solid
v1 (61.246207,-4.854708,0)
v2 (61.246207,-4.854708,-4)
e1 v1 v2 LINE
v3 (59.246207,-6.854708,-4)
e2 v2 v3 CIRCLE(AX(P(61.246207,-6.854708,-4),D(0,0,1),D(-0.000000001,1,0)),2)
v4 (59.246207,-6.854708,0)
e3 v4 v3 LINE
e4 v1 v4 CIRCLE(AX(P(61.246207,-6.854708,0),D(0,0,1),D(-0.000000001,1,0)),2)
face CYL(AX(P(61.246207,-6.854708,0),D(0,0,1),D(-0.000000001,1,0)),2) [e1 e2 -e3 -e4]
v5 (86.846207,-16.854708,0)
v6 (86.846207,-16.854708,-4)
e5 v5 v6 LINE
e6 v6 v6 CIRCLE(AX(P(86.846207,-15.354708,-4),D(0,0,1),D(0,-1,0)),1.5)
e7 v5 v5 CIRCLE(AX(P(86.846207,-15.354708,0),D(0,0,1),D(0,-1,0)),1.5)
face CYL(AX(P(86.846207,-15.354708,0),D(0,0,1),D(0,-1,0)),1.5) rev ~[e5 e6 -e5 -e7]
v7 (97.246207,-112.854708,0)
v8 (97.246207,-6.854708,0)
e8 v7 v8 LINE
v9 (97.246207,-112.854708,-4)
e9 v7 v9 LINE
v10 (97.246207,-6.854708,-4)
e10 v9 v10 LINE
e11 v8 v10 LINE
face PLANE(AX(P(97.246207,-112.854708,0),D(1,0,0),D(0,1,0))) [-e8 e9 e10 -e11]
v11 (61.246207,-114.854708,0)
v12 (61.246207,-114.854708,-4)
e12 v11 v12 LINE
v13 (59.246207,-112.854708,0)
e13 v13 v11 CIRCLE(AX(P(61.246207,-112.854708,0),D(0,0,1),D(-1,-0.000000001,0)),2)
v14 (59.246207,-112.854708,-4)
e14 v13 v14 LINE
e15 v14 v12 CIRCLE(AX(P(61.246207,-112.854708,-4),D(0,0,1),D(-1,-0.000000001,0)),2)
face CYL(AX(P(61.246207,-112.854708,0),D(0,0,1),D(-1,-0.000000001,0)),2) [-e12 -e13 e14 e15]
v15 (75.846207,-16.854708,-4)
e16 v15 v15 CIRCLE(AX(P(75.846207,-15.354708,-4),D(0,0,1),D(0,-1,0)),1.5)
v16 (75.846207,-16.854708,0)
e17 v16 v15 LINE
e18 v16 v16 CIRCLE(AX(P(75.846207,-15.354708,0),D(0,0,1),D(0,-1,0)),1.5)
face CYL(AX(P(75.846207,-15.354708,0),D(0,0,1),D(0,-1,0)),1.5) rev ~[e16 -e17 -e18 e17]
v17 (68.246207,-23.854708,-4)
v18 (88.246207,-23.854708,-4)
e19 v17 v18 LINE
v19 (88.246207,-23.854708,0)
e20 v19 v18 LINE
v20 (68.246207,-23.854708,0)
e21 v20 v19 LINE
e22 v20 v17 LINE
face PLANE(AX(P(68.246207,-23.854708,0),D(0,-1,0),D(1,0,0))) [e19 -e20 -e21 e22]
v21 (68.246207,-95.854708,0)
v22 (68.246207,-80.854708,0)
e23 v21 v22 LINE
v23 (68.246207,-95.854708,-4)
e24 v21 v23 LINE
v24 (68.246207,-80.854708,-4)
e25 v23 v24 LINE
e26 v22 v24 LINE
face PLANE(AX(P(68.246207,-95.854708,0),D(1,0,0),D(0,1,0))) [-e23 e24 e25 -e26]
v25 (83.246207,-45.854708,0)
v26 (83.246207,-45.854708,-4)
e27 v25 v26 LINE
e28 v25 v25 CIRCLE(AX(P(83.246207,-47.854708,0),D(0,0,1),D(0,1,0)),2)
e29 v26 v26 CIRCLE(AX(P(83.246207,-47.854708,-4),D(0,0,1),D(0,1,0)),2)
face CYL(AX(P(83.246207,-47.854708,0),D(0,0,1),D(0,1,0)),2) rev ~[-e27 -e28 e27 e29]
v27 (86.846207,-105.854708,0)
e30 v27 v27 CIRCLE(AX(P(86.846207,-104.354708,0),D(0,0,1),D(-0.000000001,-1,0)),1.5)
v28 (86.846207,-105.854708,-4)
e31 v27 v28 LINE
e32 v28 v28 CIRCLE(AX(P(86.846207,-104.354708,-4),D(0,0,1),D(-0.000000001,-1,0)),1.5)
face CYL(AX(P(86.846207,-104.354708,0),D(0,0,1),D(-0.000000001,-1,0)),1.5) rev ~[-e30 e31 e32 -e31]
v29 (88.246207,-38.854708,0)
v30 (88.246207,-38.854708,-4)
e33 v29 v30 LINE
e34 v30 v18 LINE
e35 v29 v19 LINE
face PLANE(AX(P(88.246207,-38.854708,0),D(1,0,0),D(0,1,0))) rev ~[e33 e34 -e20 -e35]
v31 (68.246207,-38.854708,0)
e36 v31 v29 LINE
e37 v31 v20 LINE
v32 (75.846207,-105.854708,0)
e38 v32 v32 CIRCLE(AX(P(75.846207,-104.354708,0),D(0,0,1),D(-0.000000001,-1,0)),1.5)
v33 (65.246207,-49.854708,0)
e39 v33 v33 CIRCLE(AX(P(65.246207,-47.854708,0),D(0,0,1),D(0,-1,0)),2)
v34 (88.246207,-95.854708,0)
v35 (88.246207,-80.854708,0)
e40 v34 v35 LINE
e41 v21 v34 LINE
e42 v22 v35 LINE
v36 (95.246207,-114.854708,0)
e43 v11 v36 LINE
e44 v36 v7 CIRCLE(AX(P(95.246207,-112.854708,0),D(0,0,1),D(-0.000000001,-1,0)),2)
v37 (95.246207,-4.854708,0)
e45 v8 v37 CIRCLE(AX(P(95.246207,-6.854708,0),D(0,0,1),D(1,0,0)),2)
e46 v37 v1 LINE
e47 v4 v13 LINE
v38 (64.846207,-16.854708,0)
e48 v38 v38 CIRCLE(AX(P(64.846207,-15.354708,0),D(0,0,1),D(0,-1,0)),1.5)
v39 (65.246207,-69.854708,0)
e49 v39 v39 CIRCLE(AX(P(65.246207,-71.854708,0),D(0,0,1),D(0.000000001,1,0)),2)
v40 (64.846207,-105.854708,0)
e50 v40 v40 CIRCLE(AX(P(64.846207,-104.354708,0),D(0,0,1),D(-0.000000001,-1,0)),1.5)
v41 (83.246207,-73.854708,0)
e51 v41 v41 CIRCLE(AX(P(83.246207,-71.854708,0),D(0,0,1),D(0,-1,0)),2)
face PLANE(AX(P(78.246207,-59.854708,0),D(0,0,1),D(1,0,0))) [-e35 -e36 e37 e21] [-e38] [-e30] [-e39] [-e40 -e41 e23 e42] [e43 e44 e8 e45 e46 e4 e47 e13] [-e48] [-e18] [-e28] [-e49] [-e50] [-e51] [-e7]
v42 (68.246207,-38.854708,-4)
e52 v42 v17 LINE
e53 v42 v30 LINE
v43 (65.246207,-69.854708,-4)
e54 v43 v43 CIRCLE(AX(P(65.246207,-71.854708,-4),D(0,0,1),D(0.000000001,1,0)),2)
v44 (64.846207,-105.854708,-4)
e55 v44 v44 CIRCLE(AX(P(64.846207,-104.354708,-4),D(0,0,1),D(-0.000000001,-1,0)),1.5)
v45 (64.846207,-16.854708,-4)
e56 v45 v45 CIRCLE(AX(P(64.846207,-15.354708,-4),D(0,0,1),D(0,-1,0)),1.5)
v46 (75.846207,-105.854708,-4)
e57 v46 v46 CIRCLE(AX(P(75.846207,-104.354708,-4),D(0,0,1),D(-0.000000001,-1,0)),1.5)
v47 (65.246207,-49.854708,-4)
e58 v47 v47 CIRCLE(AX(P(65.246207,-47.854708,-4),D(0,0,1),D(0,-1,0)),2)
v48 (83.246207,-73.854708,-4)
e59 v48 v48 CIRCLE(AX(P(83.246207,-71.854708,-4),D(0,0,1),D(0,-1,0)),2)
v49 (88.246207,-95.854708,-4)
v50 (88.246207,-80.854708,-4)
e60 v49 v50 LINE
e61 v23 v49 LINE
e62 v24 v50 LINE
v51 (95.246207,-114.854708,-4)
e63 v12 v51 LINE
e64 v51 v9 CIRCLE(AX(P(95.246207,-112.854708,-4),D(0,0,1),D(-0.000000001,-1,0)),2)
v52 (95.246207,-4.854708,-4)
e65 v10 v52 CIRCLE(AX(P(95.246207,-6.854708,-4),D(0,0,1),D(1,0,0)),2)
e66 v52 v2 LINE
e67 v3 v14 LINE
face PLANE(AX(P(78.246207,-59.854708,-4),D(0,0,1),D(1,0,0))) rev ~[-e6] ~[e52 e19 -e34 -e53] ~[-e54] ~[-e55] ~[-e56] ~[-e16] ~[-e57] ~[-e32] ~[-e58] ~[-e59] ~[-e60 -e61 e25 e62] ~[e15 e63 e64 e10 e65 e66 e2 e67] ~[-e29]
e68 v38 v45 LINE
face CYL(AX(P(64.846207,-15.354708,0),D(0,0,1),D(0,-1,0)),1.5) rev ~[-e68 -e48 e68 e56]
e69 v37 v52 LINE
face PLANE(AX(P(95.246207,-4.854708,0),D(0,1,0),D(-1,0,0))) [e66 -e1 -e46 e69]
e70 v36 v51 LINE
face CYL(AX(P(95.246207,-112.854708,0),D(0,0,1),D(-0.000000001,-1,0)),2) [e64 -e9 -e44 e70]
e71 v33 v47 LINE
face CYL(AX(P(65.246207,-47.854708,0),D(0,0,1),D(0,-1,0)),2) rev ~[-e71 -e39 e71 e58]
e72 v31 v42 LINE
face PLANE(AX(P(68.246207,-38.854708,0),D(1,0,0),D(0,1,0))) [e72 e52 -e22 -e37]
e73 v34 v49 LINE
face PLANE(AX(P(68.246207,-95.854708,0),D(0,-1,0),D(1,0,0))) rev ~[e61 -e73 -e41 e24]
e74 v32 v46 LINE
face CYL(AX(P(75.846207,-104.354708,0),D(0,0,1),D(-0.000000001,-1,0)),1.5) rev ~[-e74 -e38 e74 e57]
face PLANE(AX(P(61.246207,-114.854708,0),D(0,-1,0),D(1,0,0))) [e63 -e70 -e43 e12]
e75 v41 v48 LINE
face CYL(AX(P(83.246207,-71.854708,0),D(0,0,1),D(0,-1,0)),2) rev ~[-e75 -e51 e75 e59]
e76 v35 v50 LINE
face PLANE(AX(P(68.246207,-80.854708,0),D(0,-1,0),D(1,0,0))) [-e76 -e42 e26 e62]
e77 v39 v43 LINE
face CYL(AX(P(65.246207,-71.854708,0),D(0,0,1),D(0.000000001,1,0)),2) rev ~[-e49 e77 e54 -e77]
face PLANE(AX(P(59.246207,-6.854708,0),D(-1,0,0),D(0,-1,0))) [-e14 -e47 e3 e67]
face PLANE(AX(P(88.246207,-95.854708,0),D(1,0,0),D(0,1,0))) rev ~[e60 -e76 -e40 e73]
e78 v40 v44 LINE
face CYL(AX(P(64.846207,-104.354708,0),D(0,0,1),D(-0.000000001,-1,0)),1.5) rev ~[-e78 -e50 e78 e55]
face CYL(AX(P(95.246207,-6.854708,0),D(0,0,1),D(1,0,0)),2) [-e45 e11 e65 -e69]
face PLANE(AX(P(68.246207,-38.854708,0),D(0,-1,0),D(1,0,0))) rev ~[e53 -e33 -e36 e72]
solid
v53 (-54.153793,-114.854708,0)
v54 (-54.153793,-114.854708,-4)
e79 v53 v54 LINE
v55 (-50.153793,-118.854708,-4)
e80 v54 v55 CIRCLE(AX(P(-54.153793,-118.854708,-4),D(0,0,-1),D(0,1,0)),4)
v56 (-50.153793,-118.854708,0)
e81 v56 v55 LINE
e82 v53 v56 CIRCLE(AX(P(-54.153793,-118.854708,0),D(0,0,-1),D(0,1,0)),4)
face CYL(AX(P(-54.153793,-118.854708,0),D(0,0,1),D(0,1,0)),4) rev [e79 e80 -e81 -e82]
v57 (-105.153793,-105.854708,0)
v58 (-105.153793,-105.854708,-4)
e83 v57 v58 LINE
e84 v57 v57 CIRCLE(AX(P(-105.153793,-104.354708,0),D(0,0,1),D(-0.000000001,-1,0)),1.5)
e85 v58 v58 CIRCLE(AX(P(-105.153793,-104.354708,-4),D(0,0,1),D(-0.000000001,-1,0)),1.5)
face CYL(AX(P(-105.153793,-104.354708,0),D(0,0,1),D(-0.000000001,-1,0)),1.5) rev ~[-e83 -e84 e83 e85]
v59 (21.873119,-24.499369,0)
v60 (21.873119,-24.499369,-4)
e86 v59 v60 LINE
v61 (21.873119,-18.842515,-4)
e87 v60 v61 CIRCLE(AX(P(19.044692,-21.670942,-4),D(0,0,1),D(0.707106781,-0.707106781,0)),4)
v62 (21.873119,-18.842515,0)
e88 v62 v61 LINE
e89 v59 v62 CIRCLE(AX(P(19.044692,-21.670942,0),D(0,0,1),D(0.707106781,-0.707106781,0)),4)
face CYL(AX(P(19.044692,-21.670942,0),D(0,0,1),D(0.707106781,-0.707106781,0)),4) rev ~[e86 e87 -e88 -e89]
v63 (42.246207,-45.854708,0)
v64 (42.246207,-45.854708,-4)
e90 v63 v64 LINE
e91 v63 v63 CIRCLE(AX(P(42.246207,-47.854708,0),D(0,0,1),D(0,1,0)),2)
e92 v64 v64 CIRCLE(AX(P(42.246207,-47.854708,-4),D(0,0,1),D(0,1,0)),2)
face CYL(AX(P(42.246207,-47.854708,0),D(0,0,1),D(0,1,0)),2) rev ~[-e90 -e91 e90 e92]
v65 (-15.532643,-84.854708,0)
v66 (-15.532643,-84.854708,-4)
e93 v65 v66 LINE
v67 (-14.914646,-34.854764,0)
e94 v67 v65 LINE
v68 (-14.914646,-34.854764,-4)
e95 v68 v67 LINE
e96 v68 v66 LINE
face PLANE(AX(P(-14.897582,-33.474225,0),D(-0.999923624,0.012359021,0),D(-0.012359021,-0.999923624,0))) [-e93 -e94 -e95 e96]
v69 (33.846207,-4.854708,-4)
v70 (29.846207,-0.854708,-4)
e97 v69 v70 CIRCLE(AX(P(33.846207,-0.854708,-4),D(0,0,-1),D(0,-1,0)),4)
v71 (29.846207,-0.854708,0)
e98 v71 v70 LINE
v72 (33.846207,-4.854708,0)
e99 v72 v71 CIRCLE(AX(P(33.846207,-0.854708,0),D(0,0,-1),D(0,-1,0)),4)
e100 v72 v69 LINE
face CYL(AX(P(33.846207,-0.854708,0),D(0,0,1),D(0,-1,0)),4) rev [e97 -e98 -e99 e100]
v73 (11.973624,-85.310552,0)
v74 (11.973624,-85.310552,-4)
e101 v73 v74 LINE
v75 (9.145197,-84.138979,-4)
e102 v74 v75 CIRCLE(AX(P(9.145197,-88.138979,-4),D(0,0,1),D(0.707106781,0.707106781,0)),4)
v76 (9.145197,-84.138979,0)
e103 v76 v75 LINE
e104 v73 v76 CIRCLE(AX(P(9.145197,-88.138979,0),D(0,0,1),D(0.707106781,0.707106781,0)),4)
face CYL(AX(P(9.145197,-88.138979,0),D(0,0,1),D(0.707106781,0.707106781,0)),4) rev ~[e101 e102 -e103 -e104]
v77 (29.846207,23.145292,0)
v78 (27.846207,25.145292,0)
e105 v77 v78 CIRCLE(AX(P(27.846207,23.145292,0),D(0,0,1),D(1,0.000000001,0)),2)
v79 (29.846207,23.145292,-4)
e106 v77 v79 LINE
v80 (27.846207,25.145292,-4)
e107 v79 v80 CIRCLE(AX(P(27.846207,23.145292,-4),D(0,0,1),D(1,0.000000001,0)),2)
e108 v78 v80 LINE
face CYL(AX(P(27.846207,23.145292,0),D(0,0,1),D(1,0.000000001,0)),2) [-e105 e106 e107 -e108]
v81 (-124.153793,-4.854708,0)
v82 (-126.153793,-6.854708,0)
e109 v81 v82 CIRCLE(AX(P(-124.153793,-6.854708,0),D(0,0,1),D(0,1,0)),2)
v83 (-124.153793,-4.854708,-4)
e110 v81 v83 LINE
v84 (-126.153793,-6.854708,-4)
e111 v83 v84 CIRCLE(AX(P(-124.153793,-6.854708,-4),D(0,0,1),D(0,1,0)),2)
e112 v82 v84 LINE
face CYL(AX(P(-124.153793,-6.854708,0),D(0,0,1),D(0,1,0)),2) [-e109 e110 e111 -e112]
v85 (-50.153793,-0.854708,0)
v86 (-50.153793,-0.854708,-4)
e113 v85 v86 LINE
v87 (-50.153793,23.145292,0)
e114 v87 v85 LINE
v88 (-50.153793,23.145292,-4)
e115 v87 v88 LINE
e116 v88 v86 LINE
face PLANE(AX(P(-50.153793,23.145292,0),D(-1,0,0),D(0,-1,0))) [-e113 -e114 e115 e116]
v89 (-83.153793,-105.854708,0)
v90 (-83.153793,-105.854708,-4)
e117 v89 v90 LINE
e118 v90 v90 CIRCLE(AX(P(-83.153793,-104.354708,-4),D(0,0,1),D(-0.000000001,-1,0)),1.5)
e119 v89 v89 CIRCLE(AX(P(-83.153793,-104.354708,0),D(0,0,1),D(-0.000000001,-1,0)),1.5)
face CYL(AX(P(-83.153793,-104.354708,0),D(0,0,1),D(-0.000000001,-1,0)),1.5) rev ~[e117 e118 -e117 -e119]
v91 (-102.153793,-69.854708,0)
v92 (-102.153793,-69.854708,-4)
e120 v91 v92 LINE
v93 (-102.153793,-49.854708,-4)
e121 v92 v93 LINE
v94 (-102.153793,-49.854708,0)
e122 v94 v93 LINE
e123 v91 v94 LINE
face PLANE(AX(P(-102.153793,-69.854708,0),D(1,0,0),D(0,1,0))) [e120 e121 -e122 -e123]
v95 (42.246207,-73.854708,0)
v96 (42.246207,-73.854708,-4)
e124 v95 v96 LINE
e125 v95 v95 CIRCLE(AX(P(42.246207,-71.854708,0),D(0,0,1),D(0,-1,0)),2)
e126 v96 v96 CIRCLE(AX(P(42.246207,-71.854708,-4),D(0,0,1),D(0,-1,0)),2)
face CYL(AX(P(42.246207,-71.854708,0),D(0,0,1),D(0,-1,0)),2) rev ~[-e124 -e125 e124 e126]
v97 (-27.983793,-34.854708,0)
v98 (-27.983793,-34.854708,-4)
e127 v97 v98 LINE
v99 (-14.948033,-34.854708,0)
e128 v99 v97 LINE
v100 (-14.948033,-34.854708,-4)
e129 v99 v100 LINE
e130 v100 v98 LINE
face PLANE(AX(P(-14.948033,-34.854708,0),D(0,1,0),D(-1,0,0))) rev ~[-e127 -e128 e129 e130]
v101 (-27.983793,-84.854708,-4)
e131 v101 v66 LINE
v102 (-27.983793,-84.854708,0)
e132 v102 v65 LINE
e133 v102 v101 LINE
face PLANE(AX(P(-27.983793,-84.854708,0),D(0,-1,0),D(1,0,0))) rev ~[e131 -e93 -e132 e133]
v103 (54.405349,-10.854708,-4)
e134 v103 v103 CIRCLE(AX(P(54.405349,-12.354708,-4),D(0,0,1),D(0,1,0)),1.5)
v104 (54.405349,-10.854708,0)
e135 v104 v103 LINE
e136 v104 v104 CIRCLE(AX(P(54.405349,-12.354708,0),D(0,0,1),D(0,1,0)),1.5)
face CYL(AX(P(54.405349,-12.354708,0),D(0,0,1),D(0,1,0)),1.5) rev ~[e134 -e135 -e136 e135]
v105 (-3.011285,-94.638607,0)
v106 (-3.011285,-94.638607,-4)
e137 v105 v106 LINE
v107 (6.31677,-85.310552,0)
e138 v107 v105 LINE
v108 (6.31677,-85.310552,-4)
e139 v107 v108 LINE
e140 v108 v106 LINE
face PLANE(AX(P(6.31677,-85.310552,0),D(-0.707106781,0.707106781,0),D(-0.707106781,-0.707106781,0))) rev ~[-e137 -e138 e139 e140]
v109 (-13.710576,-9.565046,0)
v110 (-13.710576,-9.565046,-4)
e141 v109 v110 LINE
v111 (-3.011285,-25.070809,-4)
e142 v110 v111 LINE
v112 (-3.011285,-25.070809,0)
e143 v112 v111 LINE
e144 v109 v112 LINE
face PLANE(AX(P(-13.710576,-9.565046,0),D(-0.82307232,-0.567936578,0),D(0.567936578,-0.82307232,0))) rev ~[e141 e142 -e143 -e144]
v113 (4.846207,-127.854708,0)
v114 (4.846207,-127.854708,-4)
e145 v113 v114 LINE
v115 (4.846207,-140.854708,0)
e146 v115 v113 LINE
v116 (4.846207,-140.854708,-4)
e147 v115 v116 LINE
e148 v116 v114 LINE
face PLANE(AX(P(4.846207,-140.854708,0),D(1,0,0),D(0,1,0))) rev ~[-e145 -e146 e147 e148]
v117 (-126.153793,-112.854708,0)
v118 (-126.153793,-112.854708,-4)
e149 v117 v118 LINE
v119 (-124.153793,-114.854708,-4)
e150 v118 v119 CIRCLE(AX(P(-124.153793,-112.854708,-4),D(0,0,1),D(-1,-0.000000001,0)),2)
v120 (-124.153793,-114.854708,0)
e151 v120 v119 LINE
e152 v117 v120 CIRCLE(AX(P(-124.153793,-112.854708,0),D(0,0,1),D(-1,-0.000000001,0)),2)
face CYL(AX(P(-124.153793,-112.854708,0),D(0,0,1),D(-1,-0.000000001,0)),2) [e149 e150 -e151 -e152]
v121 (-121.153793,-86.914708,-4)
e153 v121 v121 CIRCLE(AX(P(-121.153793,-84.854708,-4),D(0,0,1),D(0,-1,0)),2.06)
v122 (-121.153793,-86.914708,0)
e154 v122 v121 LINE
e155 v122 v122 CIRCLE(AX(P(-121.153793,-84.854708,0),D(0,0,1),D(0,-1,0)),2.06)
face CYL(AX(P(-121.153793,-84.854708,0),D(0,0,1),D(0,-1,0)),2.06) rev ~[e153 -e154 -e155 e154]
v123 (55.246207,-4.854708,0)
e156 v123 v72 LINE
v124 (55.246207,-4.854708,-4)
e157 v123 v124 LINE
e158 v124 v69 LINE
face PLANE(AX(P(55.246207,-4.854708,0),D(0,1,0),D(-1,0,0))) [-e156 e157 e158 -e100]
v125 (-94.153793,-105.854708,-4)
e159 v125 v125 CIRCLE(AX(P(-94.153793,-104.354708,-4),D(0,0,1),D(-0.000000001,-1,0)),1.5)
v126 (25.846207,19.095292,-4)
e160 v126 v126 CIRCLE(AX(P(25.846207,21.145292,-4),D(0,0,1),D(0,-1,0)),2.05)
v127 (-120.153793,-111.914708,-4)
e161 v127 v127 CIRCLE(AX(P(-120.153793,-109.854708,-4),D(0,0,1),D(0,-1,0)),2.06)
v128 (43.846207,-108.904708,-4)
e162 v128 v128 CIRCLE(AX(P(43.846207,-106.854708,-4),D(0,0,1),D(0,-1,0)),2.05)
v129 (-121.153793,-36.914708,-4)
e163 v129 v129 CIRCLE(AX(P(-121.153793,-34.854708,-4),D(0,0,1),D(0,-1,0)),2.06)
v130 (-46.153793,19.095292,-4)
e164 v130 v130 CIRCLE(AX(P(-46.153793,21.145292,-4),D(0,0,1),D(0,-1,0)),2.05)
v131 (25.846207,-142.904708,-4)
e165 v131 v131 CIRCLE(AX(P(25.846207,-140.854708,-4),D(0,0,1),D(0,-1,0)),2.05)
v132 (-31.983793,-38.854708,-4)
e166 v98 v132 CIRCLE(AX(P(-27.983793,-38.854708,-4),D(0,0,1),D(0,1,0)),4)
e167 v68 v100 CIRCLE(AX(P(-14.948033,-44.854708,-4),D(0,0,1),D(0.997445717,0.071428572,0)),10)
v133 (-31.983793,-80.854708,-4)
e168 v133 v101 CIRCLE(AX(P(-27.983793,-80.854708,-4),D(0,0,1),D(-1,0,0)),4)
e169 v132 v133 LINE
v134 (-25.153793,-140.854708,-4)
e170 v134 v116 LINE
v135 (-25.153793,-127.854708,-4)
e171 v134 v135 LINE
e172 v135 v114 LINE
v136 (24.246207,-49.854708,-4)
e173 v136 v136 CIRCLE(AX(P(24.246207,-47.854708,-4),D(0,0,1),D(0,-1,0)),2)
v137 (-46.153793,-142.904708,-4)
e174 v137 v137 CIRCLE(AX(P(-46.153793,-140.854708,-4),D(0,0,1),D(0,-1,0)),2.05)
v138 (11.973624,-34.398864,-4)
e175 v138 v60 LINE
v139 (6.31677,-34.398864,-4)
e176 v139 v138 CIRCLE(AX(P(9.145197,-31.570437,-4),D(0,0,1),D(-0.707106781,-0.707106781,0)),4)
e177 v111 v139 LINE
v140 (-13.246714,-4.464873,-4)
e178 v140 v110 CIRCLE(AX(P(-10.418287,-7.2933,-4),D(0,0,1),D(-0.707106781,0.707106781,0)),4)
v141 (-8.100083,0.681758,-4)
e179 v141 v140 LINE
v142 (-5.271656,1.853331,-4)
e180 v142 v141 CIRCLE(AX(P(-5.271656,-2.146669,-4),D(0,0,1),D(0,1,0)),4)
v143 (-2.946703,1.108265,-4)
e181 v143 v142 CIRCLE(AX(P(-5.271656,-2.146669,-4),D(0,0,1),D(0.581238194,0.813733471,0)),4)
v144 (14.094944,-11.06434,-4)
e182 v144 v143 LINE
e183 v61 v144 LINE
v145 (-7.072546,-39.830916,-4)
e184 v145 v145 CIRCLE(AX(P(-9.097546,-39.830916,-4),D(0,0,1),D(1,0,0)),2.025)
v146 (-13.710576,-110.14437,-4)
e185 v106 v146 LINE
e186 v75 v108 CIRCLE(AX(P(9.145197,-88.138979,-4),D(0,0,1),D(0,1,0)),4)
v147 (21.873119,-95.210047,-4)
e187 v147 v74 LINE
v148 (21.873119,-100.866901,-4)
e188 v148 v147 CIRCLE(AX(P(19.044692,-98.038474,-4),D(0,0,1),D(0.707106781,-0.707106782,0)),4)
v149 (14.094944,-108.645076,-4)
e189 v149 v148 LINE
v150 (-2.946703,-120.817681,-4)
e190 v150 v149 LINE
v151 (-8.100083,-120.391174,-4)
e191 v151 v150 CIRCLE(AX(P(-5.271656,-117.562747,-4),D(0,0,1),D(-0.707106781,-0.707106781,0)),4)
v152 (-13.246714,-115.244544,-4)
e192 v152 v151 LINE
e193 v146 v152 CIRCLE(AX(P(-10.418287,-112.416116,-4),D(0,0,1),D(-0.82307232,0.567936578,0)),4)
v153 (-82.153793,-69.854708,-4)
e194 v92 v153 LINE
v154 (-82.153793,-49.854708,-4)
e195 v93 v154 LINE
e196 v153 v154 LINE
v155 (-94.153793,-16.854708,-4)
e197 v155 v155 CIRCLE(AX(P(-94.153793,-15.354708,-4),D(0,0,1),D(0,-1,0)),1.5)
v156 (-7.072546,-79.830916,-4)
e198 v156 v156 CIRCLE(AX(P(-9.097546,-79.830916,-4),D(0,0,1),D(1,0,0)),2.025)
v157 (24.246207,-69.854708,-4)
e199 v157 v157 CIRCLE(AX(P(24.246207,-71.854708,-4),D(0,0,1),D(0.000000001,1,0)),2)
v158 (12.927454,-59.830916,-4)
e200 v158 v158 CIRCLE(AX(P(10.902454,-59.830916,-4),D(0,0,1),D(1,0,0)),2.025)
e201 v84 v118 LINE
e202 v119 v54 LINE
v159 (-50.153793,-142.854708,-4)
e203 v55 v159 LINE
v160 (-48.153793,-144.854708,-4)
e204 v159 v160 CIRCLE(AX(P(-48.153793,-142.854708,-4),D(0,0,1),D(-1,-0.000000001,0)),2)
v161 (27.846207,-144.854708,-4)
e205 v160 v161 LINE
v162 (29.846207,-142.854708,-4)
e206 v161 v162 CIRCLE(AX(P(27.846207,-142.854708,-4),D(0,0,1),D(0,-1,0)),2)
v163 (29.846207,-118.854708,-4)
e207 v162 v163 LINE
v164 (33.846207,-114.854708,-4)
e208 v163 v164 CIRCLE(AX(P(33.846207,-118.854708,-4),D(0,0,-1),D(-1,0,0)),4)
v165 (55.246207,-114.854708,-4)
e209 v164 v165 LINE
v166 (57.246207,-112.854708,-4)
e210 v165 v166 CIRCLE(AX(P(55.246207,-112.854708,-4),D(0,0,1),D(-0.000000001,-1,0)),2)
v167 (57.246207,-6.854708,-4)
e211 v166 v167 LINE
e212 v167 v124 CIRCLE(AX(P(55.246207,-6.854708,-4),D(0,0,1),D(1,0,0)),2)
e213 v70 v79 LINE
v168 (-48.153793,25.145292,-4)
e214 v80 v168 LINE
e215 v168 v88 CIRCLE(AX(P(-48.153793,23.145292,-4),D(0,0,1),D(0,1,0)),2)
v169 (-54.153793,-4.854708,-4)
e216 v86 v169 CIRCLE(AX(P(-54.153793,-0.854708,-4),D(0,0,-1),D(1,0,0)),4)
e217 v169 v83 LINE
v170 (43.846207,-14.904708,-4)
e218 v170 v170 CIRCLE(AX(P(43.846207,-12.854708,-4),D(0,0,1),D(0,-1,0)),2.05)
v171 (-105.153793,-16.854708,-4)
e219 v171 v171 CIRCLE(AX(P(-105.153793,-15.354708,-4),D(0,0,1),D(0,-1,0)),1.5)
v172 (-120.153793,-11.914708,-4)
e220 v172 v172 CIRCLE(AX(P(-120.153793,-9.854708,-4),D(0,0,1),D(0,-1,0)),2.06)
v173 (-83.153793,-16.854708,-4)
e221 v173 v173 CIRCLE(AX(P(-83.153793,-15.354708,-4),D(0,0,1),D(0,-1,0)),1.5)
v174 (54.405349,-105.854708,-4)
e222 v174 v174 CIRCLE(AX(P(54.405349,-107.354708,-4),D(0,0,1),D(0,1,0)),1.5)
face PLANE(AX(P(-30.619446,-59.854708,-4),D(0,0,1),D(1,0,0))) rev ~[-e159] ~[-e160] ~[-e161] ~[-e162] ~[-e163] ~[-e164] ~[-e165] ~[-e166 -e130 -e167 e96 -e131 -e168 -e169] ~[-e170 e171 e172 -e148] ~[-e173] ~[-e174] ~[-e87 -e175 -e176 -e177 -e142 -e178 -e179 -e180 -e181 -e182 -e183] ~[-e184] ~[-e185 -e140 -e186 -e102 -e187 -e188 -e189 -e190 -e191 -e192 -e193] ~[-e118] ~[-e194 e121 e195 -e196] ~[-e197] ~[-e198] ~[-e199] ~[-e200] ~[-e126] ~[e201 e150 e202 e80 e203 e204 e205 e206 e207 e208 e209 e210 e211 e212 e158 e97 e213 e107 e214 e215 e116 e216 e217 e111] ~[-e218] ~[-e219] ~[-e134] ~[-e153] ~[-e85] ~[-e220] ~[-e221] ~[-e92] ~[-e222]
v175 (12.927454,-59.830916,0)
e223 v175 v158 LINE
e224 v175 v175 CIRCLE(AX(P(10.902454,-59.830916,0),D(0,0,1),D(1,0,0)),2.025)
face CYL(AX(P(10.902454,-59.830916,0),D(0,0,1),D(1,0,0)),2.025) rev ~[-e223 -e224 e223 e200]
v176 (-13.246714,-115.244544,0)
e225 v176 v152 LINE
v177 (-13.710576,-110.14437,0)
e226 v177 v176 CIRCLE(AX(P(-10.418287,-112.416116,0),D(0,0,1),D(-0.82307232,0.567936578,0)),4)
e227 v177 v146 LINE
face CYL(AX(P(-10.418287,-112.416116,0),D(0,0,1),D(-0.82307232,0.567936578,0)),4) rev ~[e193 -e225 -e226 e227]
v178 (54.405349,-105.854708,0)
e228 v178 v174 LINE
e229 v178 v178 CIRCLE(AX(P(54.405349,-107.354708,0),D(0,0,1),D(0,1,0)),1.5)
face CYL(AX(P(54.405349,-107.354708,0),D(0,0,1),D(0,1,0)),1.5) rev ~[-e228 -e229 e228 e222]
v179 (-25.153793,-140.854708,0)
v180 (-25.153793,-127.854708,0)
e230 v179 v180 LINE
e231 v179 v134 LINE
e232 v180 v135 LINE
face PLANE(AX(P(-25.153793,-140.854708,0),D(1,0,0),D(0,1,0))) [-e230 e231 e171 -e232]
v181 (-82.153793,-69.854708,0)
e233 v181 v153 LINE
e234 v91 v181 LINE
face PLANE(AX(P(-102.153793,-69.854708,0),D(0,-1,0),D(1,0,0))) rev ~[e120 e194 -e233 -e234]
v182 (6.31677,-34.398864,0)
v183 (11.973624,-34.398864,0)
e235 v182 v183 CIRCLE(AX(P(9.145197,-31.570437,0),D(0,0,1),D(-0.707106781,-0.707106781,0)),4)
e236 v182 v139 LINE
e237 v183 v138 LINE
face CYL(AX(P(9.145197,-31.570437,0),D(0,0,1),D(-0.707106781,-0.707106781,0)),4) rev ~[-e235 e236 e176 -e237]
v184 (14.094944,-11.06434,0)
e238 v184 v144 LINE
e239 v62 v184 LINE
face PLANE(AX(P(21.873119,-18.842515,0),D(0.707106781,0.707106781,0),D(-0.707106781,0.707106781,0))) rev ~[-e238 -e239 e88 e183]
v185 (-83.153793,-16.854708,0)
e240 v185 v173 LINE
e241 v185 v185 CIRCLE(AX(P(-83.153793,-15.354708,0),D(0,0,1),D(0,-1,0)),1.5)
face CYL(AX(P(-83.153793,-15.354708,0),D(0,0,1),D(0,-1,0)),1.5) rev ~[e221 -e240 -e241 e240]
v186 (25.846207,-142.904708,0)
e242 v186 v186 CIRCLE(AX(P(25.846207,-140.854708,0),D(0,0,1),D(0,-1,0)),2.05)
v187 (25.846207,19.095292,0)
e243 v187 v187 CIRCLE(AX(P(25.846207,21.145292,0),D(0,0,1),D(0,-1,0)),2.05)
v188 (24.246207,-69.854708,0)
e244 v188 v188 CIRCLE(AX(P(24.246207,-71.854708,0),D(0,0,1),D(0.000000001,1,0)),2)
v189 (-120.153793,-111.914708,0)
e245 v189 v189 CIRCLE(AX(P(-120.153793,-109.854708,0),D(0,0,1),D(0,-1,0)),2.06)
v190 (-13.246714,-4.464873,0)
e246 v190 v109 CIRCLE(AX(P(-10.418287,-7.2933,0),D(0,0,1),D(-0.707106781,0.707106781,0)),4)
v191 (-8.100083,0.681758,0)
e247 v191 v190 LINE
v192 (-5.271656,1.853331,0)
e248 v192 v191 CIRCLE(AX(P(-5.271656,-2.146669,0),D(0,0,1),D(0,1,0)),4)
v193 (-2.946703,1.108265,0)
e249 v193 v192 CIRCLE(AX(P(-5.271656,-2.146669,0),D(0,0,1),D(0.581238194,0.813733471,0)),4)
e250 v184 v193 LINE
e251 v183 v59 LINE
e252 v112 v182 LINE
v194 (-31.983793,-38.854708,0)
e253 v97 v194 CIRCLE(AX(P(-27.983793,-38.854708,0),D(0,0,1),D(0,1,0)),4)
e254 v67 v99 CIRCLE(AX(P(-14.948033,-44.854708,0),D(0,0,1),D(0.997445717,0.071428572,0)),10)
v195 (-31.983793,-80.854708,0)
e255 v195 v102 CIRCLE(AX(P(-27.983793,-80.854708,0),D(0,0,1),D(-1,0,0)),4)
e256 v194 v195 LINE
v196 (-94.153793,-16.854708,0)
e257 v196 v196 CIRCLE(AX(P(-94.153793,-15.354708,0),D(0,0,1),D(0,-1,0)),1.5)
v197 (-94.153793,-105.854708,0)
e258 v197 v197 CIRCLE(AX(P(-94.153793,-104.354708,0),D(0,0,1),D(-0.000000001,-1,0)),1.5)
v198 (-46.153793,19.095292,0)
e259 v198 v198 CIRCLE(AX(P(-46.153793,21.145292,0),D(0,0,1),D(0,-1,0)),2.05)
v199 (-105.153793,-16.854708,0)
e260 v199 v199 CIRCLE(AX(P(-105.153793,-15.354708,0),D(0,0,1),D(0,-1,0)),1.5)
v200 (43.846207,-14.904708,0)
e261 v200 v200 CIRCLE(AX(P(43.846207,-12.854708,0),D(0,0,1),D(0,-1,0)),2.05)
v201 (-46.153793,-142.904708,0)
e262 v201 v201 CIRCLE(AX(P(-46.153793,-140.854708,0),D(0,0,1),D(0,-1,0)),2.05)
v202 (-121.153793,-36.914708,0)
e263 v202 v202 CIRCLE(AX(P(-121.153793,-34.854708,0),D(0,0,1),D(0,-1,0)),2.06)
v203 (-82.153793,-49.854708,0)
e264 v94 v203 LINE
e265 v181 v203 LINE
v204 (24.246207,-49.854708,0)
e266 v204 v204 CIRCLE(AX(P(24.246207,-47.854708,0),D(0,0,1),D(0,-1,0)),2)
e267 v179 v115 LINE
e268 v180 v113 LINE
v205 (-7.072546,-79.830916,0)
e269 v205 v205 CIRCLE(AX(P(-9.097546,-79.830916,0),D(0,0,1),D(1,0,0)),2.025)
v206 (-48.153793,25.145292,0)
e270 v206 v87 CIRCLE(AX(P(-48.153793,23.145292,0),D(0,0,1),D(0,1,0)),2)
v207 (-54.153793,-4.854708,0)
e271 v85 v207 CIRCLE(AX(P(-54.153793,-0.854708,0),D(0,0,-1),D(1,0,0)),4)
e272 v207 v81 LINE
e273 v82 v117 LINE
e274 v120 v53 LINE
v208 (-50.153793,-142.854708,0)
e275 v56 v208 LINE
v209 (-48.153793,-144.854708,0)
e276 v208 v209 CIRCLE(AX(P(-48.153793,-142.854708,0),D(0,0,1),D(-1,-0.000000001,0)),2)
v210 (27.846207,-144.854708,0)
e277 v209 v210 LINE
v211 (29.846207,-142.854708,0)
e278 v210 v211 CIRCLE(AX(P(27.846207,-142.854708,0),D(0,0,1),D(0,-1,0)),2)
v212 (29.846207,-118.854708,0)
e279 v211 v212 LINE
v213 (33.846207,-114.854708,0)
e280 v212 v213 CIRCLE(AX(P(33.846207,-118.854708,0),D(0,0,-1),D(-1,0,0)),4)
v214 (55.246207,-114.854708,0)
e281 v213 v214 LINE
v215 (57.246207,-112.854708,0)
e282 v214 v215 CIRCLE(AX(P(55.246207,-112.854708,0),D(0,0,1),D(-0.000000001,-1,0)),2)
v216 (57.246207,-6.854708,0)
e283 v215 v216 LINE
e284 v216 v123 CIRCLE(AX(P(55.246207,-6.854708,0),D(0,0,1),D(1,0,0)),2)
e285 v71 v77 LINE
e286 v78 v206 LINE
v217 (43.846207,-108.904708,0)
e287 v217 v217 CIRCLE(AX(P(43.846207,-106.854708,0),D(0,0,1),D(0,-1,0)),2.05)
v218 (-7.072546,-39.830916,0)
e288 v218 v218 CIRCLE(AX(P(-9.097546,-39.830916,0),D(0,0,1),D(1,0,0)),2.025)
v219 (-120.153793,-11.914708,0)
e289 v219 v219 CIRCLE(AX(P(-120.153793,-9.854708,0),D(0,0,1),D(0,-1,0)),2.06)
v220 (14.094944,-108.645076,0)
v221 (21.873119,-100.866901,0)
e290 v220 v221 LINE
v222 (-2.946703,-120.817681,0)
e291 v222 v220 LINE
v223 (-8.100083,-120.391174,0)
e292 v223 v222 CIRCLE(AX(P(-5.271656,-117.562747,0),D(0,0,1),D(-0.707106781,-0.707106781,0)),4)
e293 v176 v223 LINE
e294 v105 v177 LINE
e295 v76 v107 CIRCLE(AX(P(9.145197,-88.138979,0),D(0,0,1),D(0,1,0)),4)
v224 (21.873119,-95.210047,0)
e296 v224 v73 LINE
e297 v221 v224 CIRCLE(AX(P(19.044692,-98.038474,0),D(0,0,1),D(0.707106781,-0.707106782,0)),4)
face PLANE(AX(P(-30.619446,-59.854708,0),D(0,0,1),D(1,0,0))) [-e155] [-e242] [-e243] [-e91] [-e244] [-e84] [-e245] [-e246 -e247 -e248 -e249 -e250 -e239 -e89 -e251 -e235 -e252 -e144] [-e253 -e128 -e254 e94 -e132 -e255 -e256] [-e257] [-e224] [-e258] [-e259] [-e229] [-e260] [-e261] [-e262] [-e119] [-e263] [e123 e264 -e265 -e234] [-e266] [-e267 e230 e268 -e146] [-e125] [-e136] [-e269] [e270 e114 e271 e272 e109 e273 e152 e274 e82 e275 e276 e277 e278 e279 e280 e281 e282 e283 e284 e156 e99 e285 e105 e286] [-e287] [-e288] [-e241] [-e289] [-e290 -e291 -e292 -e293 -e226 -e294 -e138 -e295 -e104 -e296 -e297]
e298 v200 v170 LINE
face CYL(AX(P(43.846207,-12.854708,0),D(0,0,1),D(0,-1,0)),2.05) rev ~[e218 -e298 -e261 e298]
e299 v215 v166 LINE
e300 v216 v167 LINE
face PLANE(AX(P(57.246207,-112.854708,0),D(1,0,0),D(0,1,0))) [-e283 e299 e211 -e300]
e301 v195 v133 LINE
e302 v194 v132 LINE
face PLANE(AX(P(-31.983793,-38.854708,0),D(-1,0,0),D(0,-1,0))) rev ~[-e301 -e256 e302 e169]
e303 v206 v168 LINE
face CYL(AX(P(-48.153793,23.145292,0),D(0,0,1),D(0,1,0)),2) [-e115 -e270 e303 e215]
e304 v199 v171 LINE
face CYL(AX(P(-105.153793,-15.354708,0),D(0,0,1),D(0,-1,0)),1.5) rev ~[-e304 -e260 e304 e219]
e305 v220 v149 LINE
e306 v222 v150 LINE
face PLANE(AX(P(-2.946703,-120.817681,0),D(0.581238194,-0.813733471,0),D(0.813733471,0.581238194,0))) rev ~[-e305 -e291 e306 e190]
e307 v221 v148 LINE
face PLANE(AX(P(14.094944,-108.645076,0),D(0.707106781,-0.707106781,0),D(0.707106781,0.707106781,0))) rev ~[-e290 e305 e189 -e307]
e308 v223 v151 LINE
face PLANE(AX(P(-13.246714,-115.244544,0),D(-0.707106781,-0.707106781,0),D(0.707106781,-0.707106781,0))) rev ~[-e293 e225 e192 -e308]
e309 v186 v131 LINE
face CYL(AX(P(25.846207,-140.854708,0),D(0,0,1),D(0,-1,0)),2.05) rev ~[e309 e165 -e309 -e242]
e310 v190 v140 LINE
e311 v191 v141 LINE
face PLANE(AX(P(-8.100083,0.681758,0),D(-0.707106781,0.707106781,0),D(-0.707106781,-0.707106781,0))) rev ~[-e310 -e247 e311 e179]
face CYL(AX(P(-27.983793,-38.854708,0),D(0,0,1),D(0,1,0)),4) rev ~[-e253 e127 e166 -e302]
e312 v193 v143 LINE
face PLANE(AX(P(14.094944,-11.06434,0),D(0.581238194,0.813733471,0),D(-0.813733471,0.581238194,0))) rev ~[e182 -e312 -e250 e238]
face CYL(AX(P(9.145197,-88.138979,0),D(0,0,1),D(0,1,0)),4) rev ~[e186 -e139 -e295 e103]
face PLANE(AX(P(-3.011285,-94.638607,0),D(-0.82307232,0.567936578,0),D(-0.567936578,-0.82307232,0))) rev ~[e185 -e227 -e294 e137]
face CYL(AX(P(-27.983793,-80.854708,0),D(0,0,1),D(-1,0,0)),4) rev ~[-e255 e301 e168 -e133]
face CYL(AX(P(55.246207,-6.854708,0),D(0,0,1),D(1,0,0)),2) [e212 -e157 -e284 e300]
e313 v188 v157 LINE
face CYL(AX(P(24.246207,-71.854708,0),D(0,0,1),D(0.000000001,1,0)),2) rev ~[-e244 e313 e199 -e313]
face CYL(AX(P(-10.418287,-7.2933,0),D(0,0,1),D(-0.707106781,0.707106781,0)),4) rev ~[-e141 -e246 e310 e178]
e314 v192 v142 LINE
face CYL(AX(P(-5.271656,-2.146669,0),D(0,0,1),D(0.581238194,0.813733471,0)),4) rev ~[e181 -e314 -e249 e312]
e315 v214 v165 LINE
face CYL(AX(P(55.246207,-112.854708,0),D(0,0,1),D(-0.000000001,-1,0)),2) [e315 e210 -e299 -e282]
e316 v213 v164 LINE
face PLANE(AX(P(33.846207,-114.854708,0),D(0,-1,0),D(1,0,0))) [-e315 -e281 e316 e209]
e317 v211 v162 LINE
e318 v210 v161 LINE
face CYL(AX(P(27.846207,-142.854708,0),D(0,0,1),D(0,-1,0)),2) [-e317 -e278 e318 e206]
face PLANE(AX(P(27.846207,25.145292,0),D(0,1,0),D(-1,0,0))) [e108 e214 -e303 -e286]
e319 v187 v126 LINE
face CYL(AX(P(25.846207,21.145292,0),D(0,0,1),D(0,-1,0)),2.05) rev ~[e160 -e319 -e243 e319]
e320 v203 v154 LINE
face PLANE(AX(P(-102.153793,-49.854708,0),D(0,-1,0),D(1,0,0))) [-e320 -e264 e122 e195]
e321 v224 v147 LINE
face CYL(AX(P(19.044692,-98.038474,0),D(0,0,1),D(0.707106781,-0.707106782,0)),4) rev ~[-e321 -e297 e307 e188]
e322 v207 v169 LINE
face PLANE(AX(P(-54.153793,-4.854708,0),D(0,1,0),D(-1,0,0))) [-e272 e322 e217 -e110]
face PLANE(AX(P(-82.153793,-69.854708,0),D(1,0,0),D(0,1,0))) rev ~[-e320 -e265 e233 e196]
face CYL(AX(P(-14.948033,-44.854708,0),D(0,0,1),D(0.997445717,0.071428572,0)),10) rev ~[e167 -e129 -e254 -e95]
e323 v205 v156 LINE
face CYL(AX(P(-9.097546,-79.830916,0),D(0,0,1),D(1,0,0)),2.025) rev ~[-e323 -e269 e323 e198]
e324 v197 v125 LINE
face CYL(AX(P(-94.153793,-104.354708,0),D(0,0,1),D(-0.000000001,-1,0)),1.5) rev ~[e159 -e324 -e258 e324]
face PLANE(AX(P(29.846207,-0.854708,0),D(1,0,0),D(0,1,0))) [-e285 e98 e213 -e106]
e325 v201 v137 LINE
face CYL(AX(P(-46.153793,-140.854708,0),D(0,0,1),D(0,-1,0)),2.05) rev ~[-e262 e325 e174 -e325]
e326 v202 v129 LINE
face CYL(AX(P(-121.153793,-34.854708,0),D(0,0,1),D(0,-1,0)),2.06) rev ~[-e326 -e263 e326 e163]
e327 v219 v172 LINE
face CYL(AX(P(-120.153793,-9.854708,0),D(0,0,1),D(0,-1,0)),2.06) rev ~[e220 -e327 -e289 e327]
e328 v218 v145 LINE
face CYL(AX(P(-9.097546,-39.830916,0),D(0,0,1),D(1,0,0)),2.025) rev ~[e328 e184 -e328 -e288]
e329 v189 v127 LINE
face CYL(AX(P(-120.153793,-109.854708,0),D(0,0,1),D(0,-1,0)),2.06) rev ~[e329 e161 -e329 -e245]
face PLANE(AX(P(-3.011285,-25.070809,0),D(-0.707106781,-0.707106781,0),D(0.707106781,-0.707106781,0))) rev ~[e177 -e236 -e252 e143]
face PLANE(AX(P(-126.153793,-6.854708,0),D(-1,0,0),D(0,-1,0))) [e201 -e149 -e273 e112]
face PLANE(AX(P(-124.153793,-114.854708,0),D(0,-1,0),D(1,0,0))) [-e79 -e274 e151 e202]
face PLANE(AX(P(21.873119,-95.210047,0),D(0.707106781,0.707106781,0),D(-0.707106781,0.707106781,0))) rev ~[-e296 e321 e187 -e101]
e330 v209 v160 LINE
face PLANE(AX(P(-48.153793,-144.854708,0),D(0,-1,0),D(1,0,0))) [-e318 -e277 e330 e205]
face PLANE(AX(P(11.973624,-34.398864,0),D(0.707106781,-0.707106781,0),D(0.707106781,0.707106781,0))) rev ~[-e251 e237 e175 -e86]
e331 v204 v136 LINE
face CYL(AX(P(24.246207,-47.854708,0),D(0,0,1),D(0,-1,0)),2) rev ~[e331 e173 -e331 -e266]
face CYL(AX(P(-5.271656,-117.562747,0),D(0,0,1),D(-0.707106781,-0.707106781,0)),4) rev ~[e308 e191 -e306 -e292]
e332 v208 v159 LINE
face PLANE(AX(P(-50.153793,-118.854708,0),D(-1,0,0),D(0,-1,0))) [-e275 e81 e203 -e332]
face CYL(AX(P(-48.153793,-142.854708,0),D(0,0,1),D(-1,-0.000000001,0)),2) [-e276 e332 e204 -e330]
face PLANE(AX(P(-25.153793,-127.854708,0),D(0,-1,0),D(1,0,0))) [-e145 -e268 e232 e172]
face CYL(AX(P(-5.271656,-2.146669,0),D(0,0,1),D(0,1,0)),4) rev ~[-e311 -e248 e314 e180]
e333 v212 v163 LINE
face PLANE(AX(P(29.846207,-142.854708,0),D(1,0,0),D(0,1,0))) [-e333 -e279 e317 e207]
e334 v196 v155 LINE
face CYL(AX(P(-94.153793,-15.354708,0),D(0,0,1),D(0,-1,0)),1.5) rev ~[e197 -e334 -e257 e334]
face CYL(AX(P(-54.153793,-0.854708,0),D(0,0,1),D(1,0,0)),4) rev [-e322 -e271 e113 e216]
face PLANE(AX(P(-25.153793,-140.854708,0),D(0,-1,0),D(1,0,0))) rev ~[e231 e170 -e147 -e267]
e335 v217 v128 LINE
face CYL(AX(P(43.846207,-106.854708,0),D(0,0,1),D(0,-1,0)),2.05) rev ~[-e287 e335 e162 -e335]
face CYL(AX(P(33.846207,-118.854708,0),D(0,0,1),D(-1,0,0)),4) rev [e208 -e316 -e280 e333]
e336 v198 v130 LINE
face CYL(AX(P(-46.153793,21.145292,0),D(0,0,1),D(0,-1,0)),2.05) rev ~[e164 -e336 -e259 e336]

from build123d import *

# Parameters (mm, degrees)
SKETCH_1_W          = 20
SKETCH_1_H          = 20
SKETCH_1_W_2        = 30
SKETCH_1_H_2        = 13
EXTRUDE_1_DEPTH     = 4
SKETCH_1_H_3        = 15
EXTRUDE_1_2_DEPTH   = 4
EXTRUDE_3_DEPTH     = 4
SKETCH_3_R          = 2.025
CUT_EXTRUDE_1_DEPTH = 4
SKETCH_4_R          = 4.534393281
SKETCH_4_R_2        = 5.181070976
SKETCH_4_R_3        = 2.875367439
EXTRUDE_4_DEPTH     = 4


with BuildPart() as part:
    # 草图1 → 凸台-拉伸1 (new body)
    with BuildSketch(Plane.XY):
        with BuildLine():
            Line((27.846206897, 25.145291856), (-48.153793103, 25.145291856))
            ThreePointArc((-48.153793103, 25.145291856), (-49.568006666, 24.559505418), (-50.153793103, 23.145291856))
            Line((-50.153793103, 23.145291856), (-50.153793103, -0.854708144))
            ThreePointArc((-50.153793103, -0.854708144), (-51.325365979, -3.683135269), (-54.153793104, -4.854708144))
            Line((-54.153793104, -4.854708144), (-124.153793104, -4.854708144))
            ThreePointArc((-124.153793104, -4.854708144), (-125.568006666, -5.440494581), (-126.153793104, -6.854708144))
            Line((-126.153793104, -6.854708144), (-126.153793104, -112.854708144))
            ThreePointArc((-126.153793104, -112.854708144), (-125.568006666, -114.268921706), (-124.153793104, -114.854708144))
            Line((-124.153793104, -114.854708144), (-54.153793104, -114.854708144))
            ThreePointArc((-54.153793104, -114.854708144), (-51.325365979, -116.026281019), (-50.153793104, -118.854708144))
            Line((-50.153793104, -118.854708144), (-50.153793104, -142.854708144))
            ThreePointArc((-50.153793104, -142.854708144), (-49.568006666, -144.268921706), (-48.153793104, -144.854708144))
            Line((-48.153793104, -144.854708144), (27.846206896, -144.854708144))
            ThreePointArc((27.846206896, -144.854708144), (29.260420459, -144.268921706), (29.846206896, -142.854708144))
            Line((29.846206896, -142.854708144), (29.846206896, -118.854708144))
            ThreePointArc((29.846206896, -118.854708144), (31.017779772, -116.026281019), (33.846206896, -114.854708144))
            Line((33.846206896, -114.854708144), (55.246206896, -114.854708144))
            ThreePointArc((55.246206896, -114.854708144), (56.660420459, -114.268921707), (57.246206896, -112.854708144))
            Line((57.246206896, -112.854708144), (57.246206896, -6.854708144))
            ThreePointArc((57.246206896, -6.854708144), (56.660420459, -5.440494582), (55.246206896, -4.854708144))
            Line((55.246206896, -4.854708144), (33.846206896, -4.854708144))
            ThreePointArc((33.846206896, -4.854708144), (31.017779772, -3.683135269), (29.846206897, -0.854708144))
            Line((29.846206897, -0.854708144), (29.846206897, 23.145291856))
            ThreePointArc((29.846206897, 23.145291856), (29.260420459, 24.559505418), (27.846206897, 25.145291856))
        make_face()
        with BuildLine():
            Line((-3.011285112, -94.638607024), (-13.710575859, -110.144370171))
            ThreePointArc((-13.710575859, -110.144370171), (-14.401844612, -112.778422163), (-13.246713705, -115.244543606))
            Line((-13.246713705, -115.244543606), (-8.100082873, -120.391174438))
            ThreePointArc((-8.100082873, -120.391174438), (-5.601577875, -121.549118017), (-2.946702974, -120.817681198))
            Line((-2.946702974, -120.817681198), (14.094944235, -108.64507605))
            Line((14.094944235, -108.64507605), (21.873118828, -100.866901456))
            ThreePointArc((21.873118828, -100.866901456), (23.044691704, -98.038474332), (21.873118828, -95.210047207))
            Line((21.873118828, -95.210047207), (11.973623892, -85.31055227))
            ThreePointArc((11.973623892, -85.31055227), (10.675930497, -84.443461265), (9.145196767, -84.138979395))
            ThreePointArc((9.145196767, -84.138979395), (7.614463038, -84.443461265), (6.316769642, -85.31055227))
            Line((6.316769642, -85.31055227), (-3.011285112, -94.638607024))
        make_face(mode=Mode.SUBTRACT)
        with BuildLine():
            Line((-8.10008287, 0.681758144), (-13.246713702, -4.464872688))
            ThreePointArc((-13.246713702, -4.464872688), (-14.401844609, -6.930994131), (-13.710575857, -9.565046123))
            Line((-13.710575857, -9.565046123), (-3.01128511, -25.07080927))
            Line((-3.01128511, -25.07080927), (6.316769644, -34.398864024))
            ThreePointArc((6.316769644, -34.398864024), (9.145196769, -35.5704369), (11.973623894, -34.398864025))
            Line((11.973623894, -34.398864025), (21.87311883, -24.499369088))
            ThreePointArc((21.87311883, -24.499369088), (23.044691706, -21.670941963), (21.873118831, -18.842514839))
            Line((21.873118831, -18.842514839), (14.094944238, -11.064340246))
            Line((14.094944238, -11.064340246), (-2.946702971, 1.108264904))
            ThreePointArc((-2.946702971, 1.108264904), (-4.050946021, 1.662513053), (-5.271655745, 1.853331019))
            ThreePointArc((-5.271655745, 1.853331019), (-6.802389475, 1.548849149), (-8.10008287, 0.681758144))
        make_face(mode=Mode.SUBTRACT)
        with BuildLine():
            Line((-14.948033148, -34.854708147), (-27.983793104, -34.854708147))
            ThreePointArc((-27.983793104, -34.854708147), (-30.812220229, -36.026281022), (-31.983793105, -38.854708146))
            Line((-31.983793105, -38.854708146), (-31.983793105, -80.854708146))
            ThreePointArc((-31.983793105, -80.854708146), (-30.812220229, -83.683135271), (-27.983793105, -84.854708147))
            Line((-27.983793105, -84.854708147), (-15.206986384, -84.854708147))
            ThreePointArc((-15.206986384, -84.854708147), (-8.393134945, -82.173958694), (-5.23252921, -75.568993861))
            ThreePointArc((-5.23252921, -75.568993861), (-3.968286916, -72.927007928), (-1.24274634, -71.854708147))
            Line((-1.24274634, -71.854708147), (-0.983793104, -71.854708147))
            ThreePointArc((-0.983793104, -71.854708147), (1.84463402, -70.683135272), (3.016206896, -67.854708147))
            Line((3.016206896, -67.854708147), (3.016206896, -51.854708147))
            ThreePointArc((3.016206896, -51.854708147), (1.844634021, -49.026281022), (-0.983793104, -47.854708147))
            ThreePointArc((-0.983793104, -47.854708147), (-3.70933368, -46.782408366), (-4.973575974, -44.140422433))
            ThreePointArc((-4.973575974, -44.140422433), (-8.13418171, -37.5354576), (-14.948033148, -34.854708147))
        make_face(mode=Mode.SUBTRACT)
        with Locations((-92.153793105, -59.854708144)):
            Rectangle(SKETCH_1_W, SKETCH_1_H, mode=Mode.SUBTRACT)
        with Locations((-10.153793108, -134.354708147)):
            Rectangle(SKETCH_1_W_2, SKETCH_1_H_2, mode=Mode.SUBTRACT)
        with BuildLine():
            ThreePointArc((-94.153793106, -102.854708145), (-95.653793106, -104.354708145), (-94.153793107, -105.854708145))
            ThreePointArc((-94.153793107, -105.854708145), (-92.653793106, -104.354708145), (-94.153793106, -102.854708145))
        make_face(mode=Mode.SUBTRACT)
        with BuildLine():
            ThreePointArc((-46.153793103, 23.195291854), (-48.203793103, 21.145291854), (-46.153793103, 19.095291854))
            ThreePointArc((-46.153793103, 19.095291854), (-44.103793103, 21.145291854), (-46.153793103, 23.195291854))
        make_face(mode=Mode.SUBTRACT)
        with BuildLine():
            ThreePointArc((25.846206897, 23.195291852), (23.796206897, 21.145291852), (25.846206897, 19.095291852))
            ThreePointArc((25.846206897, 19.095291852), (27.896206897, 21.145291852), (25.846206897, 23.195291852))
        make_face(mode=Mode.SUBTRACT)
        with BuildLine():
            ThreePointArc((43.846206896, -10.804708149), (41.796206896, -12.854708149), (43.846206896, -14.904708149))
            ThreePointArc((43.846206896, -14.904708149), (45.896206896, -12.854708149), (43.846206896, -10.804708149))
        make_face(mode=Mode.SUBTRACT)
        with BuildLine():
            ThreePointArc((-15.653793106, -89.804708147), (-17.703793106, -91.854708147), (-15.653793106, -93.904708147))
            ThreePointArc((-15.653793106, -93.904708147), (-13.603793106, -91.854708147), (-15.653793106, -89.804708147))
        make_face(mode=Mode.SUBTRACT)
        with BuildLine():
            ThreePointArc((43.846206894, -104.804708149), (41.796206893, -106.854708149), (43.846206893, -108.904708149))
            ThreePointArc((43.846206893, -108.904708149), (45.896206893, -106.854708149), (43.846206894, -104.804708149))
        make_face(mode=Mode.SUBTRACT)
        with BuildLine():
            ThreePointArc((25.846206893, -138.804708148), (23.796206892, -140.854708148), (25.846206892, -142.904708148))
            ThreePointArc((25.846206892, -142.904708148), (27.896206892, -140.854708148), (25.846206893, -138.804708148))
        make_face(mode=Mode.SUBTRACT)
        with BuildLine():
            ThreePointArc((-46.153793107, -138.804708146), (-48.203793108, -140.854708146), (-46.153793108, -142.904708146))
            ThreePointArc((-46.153793108, -142.904708146), (-44.103793108, -140.854708146), (-46.153793107, -138.804708146))
        make_face(mode=Mode.SUBTRACT)
        with BuildLine():
            ThreePointArc((54.405349437, -13.854708144), (55.905349437, -12.354708144), (54.405349437, -10.854708144))
            ThreePointArc((54.405349437, -10.854708144), (52.905349437, -12.354708144), (54.405349437, -13.854708144))
        make_face(mode=Mode.SUBTRACT)
        with BuildLine():
            ThreePointArc((54.405349437, -108.854708144), (55.905349437, -107.354708144), (54.405349437, -105.854708144))
            ThreePointArc((54.405349437, -105.854708144), (52.905349437, -107.354708144), (54.405349437, -108.854708144))
        make_face(mode=Mode.SUBTRACT)
        with BuildLine():
            ThreePointArc((24.246206894, -73.854708148), (26.246206894, -71.854708148), (24.246206895, -69.854708148))
            ThreePointArc((24.246206895, -69.854708148), (22.246206894, -71.854708148), (24.246206894, -73.854708148))
        make_face(mode=Mode.SUBTRACT)
        with BuildLine():
            ThreePointArc((42.246206895, -49.854708149), (44.246206895, -47.854708149), (42.246206895, -45.854708149))
            ThreePointArc((42.246206895, -45.854708149), (40.246206895, -47.854708149), (42.246206895, -49.854708149))
        make_face(mode=Mode.SUBTRACT)
        with BuildLine():
            ThreePointArc((-105.153793104, -13.854708144), (-106.653793104, -15.354708144), (-105.153793104, -16.854708144))
            ThreePointArc((-105.153793104, -16.854708144), (-103.653793104, -15.354708144), (-105.153793104, -13.854708144))
        make_face(mode=Mode.SUBTRACT)
        with BuildLine():
            ThreePointArc((-94.153793104, -13.854708145), (-95.653793104, -15.354708145), (-94.153793104, -16.854708145))
            ThreePointArc((-94.153793104, -16.854708145), (-92.653793104, -15.354708145), (-94.153793104, -13.854708145))
        make_face(mode=Mode.SUBTRACT)
        with BuildLine():
            ThreePointArc((-83.153793104, -13.854708145), (-84.653793104, -15.354708145), (-83.153793104, -16.854708145))
            ThreePointArc((-83.153793104, -16.854708145), (-81.653793104, -15.354708145), (-83.153793104, -13.854708145))
        make_face(mode=Mode.SUBTRACT)
        with BuildLine():
            ThreePointArc((-83.153793106, -102.854708145), (-84.653793106, -104.354708145), (-83.153793107, -105.854708145))
            ThreePointArc((-83.153793107, -105.854708145), (-81.653793106, -104.354708145), (-83.153793106, -102.854708145))
        make_face(mode=Mode.SUBTRACT)
        with BuildLine():
            ThreePointArc((-15.653793104, -25.804708147), (-17.703793104, -27.854708147), (-15.653793104, -29.904708147))
            ThreePointArc((-15.653793104, -29.904708147), (-13.603793104, -27.854708147), (-15.653793104, -25.804708147))
        make_face(mode=Mode.SUBTRACT)
        with BuildLine():
            ThreePointArc((42.246206895, -69.854708149), (40.246206894, -71.854708149), (42.246206894, -73.854708149))
            ThreePointArc((42.246206894, -73.854708149), (44.246206894, -71.854708149), (42.246206895, -69.854708149))
        make_face(mode=Mode.SUBTRACT)
        with BuildLine():
            ThreePointArc((-120.153793107, -107.794708144), (-122.213793107, -109.854708144), (-120.153793107, -111.914708144))
            ThreePointArc((-120.153793107, -111.914708144), (-118.093793107, -109.854708144), (-120.153793107, -107.794708144))
        make_face(mode=Mode.SUBTRACT)
        with BuildLine():
            ThreePointArc((-121.153793106, -82.794708144), (-123.213793106, -84.854708144), (-121.153793106, -86.914708144))
            ThreePointArc((-121.153793106, -86.914708144), (-119.093793106, -84.854708144), (-121.153793106, -82.794708144))
        make_face(mode=Mode.SUBTRACT)
        with BuildLine():
            ThreePointArc((-45.653793105, -57.804708146), (-47.703793105, -59.854708146), (-45.653793105, -61.904708146))
            ThreePointArc((-45.653793105, -61.904708146), (-43.603793105, -59.854708146), (-45.653793105, -57.804708146))
        make_face(mode=Mode.SUBTRACT)
        with BuildLine():
            ThreePointArc((24.246206895, -45.854708148), (22.246206895, -47.854708148), (24.246206895, -49.854708148))
            ThreePointArc((24.246206895, -49.854708148), (26.246206895, -47.854708148), (24.246206895, -45.854708148))
        make_face(mode=Mode.SUBTRACT)
        with BuildLine():
            ThreePointArc((-121.153793104, -32.794708144), (-123.213793104, -34.854708144), (-121.153793105, -36.914708144))
            ThreePointArc((-121.153793105, -36.914708144), (-119.093793104, -34.854708144), (-121.153793104, -32.794708144))
        make_face(mode=Mode.SUBTRACT)
        with BuildLine():
            ThreePointArc((-120.153793104, -7.794708144), (-122.213793104, -9.854708144), (-120.153793104, -11.914708144))
            ThreePointArc((-120.153793104, -11.914708144), (-118.093793104, -9.854708144), (-120.153793104, -7.794708144))
        make_face(mode=Mode.SUBTRACT)
        with BuildLine():
            ThreePointArc((-105.153793106, -102.854708144), (-106.653793106, -104.354708144), (-105.153793107, -105.854708144))
            ThreePointArc((-105.153793107, -105.854708144), (-103.653793106, -104.354708144), (-105.153793106, -102.854708144))
        make_face(mode=Mode.SUBTRACT)
    extrude(amount=-EXTRUDE_1_DEPTH)

    # 草图2 → 凸台-拉伸3 (add)
    with BuildSketch(Plane.XY):
        Polygon((-14.897582131, -33.474225313), (-15.549164529, -86.191397736), (5.166097721, -81.326873066), (9.386465613, -59.854708146), (9.386465613, -46.956741514), (-9.583407358, -32.400556512), align=None)
    extrude(amount=-EXTRUDE_3_DEPTH)

    # 草图3 → 切除-拉伸1 (cut)
    with BuildSketch(Plane.XY):
        with Locations((-9.097546349, -39.830915874)):
            Circle(SKETCH_3_R)
        with Locations((-9.097546099, -79.830915874)):
            Circle(SKETCH_3_R)
        with Locations((10.902453776, -59.830915749)):
            Circle(SKETCH_3_R)
    extrude(amount=-CUT_EXTRUDE_1_DEPTH, mode=Mode.SUBTRACT)

    # 草图4 → 凸台-拉伸4 (add)
    with BuildSketch(Plane.XY):
        with Locations((-15.653793104, -27.854708147)):
            Circle(SKETCH_4_R)
        with Locations((-45.653793105, -59.854708146)):
            Circle(SKETCH_4_R_2)
        with Locations((-15.653793106, -91.854708147)):
            Circle(SKETCH_4_R_3)
    extrude(amount=-EXTRUDE_4_DEPTH)


with BuildPart() as body_2:
    # 草图1 → Extrude 1 2 (new body)
    with BuildSketch(Plane.XY):
        with BuildLine():
            Line((95.246206896, -4.854708149), (61.246206896, -4.854708149))
            ThreePointArc((61.246206896, -4.854708149), (59.831993334, -5.440494587), (59.246206896, -6.854708149))
            Line((59.246206896, -6.854708149), (59.246206896, -112.854708149))
            ThreePointArc((59.246206896, -112.854708149), (59.831993334, -114.268921711), (61.246206896, -114.854708149))
            Line((61.246206896, -114.854708149), (95.246206896, -114.854708149))
            ThreePointArc((95.246206896, -114.854708149), (96.660420459, -114.268921712), (97.246206896, -112.854708149))
            Line((97.246206896, -112.854708149), (97.246206896, -6.854708149))
            ThreePointArc((97.246206896, -6.854708149), (96.660420459, -5.440494587), (95.246206896, -4.854708149))
        make_face()
        with Locations((78.246206894, -88.354708149)):
            Rectangle(SKETCH_1_W, SKETCH_1_H_3, mode=Mode.SUBTRACT)
        with Locations((78.246206895, -31.354708149)):
            Rectangle(SKETCH_1_W, SKETCH_1_H_3, mode=Mode.SUBTRACT)
        with BuildLine():
            ThreePointArc((86.846206896, -13.85470815), (85.346206896, -15.35470815), (86.846206896, -16.85470815))
            ThreePointArc((86.846206896, -16.85470815), (88.346206896, -15.35470815), (86.846206896, -13.85470815))
        make_face(mode=Mode.SUBTRACT)
        with BuildLine():
            ThreePointArc((65.246206895, -45.854708149), (63.246206895, -47.854708149), (65.246206895, -49.854708149))
            ThreePointArc((65.246206895, -49.854708149), (67.246206895, -47.854708149), (65.246206895, -45.854708149))
        make_face(mode=Mode.SUBTRACT)
        with BuildLine():
            ThreePointArc((64.846206896, -13.854708149), (63.346206896, -15.354708149), (64.846206896, -16.854708149))
            ThreePointArc((64.846206896, -16.854708149), (66.346206896, -15.354708149), (64.846206896, -13.854708149))
        make_face(mode=Mode.SUBTRACT)
        with BuildLine():
            ThreePointArc((75.846206896, -13.85470815), (74.346206896, -15.354708149), (75.846206896, -16.85470815))
            ThreePointArc((75.846206896, -16.85470815), (77.346206896, -15.35470815), (75.846206896, -13.85470815))
        make_face(mode=Mode.SUBTRACT)
        with BuildLine():
            ThreePointArc((86.846206894, -102.85470815), (85.346206894, -104.35470815), (86.846206893, -105.85470815))
            ThreePointArc((86.846206893, -105.85470815), (88.346206894, -104.35470815), (86.846206894, -102.85470815))
        make_face(mode=Mode.SUBTRACT)
        with BuildLine():
            ThreePointArc((75.846206894, -102.85470815), (74.346206894, -104.354708149), (75.846206893, -105.85470815))
            ThreePointArc((75.846206893, -105.85470815), (77.346206894, -104.35470815), (75.846206894, -102.85470815))
        make_face(mode=Mode.SUBTRACT)
        with BuildLine():
            ThreePointArc((64.846206894, -102.854708149), (63.346206894, -104.354708149), (64.846206893, -105.854708149))
            ThreePointArc((64.846206893, -105.854708149), (66.346206894, -104.354708149), (64.846206894, -102.854708149))
        make_face(mode=Mode.SUBTRACT)
        with BuildLine():
            ThreePointArc((83.246206895, -49.85470815), (85.246206895, -47.85470815), (83.246206895, -45.85470815))
            ThreePointArc((83.246206895, -45.85470815), (81.246206895, -47.85470815), (83.246206895, -49.85470815))
        make_face(mode=Mode.SUBTRACT)
        with BuildLine():
            ThreePointArc((65.246206894, -73.854708149), (67.246206894, -71.854708149), (65.246206895, -69.854708149))
            ThreePointArc((65.246206895, -69.854708149), (63.246206894, -71.854708149), (65.246206894, -73.854708149))
        make_face(mode=Mode.SUBTRACT)
        with BuildLine():
            ThreePointArc((83.246206895, -69.85470815), (81.246206894, -71.85470815), (83.246206894, -73.85470815))
            ThreePointArc((83.246206894, -73.85470815), (85.246206894, -71.85470815), (83.246206895, -69.85470815))
        make_face(mode=Mode.SUBTRACT)
    extrude(amount=-EXTRUDE_1_2_DEPTH)


solid = Compound([part.part, body_2.part])
